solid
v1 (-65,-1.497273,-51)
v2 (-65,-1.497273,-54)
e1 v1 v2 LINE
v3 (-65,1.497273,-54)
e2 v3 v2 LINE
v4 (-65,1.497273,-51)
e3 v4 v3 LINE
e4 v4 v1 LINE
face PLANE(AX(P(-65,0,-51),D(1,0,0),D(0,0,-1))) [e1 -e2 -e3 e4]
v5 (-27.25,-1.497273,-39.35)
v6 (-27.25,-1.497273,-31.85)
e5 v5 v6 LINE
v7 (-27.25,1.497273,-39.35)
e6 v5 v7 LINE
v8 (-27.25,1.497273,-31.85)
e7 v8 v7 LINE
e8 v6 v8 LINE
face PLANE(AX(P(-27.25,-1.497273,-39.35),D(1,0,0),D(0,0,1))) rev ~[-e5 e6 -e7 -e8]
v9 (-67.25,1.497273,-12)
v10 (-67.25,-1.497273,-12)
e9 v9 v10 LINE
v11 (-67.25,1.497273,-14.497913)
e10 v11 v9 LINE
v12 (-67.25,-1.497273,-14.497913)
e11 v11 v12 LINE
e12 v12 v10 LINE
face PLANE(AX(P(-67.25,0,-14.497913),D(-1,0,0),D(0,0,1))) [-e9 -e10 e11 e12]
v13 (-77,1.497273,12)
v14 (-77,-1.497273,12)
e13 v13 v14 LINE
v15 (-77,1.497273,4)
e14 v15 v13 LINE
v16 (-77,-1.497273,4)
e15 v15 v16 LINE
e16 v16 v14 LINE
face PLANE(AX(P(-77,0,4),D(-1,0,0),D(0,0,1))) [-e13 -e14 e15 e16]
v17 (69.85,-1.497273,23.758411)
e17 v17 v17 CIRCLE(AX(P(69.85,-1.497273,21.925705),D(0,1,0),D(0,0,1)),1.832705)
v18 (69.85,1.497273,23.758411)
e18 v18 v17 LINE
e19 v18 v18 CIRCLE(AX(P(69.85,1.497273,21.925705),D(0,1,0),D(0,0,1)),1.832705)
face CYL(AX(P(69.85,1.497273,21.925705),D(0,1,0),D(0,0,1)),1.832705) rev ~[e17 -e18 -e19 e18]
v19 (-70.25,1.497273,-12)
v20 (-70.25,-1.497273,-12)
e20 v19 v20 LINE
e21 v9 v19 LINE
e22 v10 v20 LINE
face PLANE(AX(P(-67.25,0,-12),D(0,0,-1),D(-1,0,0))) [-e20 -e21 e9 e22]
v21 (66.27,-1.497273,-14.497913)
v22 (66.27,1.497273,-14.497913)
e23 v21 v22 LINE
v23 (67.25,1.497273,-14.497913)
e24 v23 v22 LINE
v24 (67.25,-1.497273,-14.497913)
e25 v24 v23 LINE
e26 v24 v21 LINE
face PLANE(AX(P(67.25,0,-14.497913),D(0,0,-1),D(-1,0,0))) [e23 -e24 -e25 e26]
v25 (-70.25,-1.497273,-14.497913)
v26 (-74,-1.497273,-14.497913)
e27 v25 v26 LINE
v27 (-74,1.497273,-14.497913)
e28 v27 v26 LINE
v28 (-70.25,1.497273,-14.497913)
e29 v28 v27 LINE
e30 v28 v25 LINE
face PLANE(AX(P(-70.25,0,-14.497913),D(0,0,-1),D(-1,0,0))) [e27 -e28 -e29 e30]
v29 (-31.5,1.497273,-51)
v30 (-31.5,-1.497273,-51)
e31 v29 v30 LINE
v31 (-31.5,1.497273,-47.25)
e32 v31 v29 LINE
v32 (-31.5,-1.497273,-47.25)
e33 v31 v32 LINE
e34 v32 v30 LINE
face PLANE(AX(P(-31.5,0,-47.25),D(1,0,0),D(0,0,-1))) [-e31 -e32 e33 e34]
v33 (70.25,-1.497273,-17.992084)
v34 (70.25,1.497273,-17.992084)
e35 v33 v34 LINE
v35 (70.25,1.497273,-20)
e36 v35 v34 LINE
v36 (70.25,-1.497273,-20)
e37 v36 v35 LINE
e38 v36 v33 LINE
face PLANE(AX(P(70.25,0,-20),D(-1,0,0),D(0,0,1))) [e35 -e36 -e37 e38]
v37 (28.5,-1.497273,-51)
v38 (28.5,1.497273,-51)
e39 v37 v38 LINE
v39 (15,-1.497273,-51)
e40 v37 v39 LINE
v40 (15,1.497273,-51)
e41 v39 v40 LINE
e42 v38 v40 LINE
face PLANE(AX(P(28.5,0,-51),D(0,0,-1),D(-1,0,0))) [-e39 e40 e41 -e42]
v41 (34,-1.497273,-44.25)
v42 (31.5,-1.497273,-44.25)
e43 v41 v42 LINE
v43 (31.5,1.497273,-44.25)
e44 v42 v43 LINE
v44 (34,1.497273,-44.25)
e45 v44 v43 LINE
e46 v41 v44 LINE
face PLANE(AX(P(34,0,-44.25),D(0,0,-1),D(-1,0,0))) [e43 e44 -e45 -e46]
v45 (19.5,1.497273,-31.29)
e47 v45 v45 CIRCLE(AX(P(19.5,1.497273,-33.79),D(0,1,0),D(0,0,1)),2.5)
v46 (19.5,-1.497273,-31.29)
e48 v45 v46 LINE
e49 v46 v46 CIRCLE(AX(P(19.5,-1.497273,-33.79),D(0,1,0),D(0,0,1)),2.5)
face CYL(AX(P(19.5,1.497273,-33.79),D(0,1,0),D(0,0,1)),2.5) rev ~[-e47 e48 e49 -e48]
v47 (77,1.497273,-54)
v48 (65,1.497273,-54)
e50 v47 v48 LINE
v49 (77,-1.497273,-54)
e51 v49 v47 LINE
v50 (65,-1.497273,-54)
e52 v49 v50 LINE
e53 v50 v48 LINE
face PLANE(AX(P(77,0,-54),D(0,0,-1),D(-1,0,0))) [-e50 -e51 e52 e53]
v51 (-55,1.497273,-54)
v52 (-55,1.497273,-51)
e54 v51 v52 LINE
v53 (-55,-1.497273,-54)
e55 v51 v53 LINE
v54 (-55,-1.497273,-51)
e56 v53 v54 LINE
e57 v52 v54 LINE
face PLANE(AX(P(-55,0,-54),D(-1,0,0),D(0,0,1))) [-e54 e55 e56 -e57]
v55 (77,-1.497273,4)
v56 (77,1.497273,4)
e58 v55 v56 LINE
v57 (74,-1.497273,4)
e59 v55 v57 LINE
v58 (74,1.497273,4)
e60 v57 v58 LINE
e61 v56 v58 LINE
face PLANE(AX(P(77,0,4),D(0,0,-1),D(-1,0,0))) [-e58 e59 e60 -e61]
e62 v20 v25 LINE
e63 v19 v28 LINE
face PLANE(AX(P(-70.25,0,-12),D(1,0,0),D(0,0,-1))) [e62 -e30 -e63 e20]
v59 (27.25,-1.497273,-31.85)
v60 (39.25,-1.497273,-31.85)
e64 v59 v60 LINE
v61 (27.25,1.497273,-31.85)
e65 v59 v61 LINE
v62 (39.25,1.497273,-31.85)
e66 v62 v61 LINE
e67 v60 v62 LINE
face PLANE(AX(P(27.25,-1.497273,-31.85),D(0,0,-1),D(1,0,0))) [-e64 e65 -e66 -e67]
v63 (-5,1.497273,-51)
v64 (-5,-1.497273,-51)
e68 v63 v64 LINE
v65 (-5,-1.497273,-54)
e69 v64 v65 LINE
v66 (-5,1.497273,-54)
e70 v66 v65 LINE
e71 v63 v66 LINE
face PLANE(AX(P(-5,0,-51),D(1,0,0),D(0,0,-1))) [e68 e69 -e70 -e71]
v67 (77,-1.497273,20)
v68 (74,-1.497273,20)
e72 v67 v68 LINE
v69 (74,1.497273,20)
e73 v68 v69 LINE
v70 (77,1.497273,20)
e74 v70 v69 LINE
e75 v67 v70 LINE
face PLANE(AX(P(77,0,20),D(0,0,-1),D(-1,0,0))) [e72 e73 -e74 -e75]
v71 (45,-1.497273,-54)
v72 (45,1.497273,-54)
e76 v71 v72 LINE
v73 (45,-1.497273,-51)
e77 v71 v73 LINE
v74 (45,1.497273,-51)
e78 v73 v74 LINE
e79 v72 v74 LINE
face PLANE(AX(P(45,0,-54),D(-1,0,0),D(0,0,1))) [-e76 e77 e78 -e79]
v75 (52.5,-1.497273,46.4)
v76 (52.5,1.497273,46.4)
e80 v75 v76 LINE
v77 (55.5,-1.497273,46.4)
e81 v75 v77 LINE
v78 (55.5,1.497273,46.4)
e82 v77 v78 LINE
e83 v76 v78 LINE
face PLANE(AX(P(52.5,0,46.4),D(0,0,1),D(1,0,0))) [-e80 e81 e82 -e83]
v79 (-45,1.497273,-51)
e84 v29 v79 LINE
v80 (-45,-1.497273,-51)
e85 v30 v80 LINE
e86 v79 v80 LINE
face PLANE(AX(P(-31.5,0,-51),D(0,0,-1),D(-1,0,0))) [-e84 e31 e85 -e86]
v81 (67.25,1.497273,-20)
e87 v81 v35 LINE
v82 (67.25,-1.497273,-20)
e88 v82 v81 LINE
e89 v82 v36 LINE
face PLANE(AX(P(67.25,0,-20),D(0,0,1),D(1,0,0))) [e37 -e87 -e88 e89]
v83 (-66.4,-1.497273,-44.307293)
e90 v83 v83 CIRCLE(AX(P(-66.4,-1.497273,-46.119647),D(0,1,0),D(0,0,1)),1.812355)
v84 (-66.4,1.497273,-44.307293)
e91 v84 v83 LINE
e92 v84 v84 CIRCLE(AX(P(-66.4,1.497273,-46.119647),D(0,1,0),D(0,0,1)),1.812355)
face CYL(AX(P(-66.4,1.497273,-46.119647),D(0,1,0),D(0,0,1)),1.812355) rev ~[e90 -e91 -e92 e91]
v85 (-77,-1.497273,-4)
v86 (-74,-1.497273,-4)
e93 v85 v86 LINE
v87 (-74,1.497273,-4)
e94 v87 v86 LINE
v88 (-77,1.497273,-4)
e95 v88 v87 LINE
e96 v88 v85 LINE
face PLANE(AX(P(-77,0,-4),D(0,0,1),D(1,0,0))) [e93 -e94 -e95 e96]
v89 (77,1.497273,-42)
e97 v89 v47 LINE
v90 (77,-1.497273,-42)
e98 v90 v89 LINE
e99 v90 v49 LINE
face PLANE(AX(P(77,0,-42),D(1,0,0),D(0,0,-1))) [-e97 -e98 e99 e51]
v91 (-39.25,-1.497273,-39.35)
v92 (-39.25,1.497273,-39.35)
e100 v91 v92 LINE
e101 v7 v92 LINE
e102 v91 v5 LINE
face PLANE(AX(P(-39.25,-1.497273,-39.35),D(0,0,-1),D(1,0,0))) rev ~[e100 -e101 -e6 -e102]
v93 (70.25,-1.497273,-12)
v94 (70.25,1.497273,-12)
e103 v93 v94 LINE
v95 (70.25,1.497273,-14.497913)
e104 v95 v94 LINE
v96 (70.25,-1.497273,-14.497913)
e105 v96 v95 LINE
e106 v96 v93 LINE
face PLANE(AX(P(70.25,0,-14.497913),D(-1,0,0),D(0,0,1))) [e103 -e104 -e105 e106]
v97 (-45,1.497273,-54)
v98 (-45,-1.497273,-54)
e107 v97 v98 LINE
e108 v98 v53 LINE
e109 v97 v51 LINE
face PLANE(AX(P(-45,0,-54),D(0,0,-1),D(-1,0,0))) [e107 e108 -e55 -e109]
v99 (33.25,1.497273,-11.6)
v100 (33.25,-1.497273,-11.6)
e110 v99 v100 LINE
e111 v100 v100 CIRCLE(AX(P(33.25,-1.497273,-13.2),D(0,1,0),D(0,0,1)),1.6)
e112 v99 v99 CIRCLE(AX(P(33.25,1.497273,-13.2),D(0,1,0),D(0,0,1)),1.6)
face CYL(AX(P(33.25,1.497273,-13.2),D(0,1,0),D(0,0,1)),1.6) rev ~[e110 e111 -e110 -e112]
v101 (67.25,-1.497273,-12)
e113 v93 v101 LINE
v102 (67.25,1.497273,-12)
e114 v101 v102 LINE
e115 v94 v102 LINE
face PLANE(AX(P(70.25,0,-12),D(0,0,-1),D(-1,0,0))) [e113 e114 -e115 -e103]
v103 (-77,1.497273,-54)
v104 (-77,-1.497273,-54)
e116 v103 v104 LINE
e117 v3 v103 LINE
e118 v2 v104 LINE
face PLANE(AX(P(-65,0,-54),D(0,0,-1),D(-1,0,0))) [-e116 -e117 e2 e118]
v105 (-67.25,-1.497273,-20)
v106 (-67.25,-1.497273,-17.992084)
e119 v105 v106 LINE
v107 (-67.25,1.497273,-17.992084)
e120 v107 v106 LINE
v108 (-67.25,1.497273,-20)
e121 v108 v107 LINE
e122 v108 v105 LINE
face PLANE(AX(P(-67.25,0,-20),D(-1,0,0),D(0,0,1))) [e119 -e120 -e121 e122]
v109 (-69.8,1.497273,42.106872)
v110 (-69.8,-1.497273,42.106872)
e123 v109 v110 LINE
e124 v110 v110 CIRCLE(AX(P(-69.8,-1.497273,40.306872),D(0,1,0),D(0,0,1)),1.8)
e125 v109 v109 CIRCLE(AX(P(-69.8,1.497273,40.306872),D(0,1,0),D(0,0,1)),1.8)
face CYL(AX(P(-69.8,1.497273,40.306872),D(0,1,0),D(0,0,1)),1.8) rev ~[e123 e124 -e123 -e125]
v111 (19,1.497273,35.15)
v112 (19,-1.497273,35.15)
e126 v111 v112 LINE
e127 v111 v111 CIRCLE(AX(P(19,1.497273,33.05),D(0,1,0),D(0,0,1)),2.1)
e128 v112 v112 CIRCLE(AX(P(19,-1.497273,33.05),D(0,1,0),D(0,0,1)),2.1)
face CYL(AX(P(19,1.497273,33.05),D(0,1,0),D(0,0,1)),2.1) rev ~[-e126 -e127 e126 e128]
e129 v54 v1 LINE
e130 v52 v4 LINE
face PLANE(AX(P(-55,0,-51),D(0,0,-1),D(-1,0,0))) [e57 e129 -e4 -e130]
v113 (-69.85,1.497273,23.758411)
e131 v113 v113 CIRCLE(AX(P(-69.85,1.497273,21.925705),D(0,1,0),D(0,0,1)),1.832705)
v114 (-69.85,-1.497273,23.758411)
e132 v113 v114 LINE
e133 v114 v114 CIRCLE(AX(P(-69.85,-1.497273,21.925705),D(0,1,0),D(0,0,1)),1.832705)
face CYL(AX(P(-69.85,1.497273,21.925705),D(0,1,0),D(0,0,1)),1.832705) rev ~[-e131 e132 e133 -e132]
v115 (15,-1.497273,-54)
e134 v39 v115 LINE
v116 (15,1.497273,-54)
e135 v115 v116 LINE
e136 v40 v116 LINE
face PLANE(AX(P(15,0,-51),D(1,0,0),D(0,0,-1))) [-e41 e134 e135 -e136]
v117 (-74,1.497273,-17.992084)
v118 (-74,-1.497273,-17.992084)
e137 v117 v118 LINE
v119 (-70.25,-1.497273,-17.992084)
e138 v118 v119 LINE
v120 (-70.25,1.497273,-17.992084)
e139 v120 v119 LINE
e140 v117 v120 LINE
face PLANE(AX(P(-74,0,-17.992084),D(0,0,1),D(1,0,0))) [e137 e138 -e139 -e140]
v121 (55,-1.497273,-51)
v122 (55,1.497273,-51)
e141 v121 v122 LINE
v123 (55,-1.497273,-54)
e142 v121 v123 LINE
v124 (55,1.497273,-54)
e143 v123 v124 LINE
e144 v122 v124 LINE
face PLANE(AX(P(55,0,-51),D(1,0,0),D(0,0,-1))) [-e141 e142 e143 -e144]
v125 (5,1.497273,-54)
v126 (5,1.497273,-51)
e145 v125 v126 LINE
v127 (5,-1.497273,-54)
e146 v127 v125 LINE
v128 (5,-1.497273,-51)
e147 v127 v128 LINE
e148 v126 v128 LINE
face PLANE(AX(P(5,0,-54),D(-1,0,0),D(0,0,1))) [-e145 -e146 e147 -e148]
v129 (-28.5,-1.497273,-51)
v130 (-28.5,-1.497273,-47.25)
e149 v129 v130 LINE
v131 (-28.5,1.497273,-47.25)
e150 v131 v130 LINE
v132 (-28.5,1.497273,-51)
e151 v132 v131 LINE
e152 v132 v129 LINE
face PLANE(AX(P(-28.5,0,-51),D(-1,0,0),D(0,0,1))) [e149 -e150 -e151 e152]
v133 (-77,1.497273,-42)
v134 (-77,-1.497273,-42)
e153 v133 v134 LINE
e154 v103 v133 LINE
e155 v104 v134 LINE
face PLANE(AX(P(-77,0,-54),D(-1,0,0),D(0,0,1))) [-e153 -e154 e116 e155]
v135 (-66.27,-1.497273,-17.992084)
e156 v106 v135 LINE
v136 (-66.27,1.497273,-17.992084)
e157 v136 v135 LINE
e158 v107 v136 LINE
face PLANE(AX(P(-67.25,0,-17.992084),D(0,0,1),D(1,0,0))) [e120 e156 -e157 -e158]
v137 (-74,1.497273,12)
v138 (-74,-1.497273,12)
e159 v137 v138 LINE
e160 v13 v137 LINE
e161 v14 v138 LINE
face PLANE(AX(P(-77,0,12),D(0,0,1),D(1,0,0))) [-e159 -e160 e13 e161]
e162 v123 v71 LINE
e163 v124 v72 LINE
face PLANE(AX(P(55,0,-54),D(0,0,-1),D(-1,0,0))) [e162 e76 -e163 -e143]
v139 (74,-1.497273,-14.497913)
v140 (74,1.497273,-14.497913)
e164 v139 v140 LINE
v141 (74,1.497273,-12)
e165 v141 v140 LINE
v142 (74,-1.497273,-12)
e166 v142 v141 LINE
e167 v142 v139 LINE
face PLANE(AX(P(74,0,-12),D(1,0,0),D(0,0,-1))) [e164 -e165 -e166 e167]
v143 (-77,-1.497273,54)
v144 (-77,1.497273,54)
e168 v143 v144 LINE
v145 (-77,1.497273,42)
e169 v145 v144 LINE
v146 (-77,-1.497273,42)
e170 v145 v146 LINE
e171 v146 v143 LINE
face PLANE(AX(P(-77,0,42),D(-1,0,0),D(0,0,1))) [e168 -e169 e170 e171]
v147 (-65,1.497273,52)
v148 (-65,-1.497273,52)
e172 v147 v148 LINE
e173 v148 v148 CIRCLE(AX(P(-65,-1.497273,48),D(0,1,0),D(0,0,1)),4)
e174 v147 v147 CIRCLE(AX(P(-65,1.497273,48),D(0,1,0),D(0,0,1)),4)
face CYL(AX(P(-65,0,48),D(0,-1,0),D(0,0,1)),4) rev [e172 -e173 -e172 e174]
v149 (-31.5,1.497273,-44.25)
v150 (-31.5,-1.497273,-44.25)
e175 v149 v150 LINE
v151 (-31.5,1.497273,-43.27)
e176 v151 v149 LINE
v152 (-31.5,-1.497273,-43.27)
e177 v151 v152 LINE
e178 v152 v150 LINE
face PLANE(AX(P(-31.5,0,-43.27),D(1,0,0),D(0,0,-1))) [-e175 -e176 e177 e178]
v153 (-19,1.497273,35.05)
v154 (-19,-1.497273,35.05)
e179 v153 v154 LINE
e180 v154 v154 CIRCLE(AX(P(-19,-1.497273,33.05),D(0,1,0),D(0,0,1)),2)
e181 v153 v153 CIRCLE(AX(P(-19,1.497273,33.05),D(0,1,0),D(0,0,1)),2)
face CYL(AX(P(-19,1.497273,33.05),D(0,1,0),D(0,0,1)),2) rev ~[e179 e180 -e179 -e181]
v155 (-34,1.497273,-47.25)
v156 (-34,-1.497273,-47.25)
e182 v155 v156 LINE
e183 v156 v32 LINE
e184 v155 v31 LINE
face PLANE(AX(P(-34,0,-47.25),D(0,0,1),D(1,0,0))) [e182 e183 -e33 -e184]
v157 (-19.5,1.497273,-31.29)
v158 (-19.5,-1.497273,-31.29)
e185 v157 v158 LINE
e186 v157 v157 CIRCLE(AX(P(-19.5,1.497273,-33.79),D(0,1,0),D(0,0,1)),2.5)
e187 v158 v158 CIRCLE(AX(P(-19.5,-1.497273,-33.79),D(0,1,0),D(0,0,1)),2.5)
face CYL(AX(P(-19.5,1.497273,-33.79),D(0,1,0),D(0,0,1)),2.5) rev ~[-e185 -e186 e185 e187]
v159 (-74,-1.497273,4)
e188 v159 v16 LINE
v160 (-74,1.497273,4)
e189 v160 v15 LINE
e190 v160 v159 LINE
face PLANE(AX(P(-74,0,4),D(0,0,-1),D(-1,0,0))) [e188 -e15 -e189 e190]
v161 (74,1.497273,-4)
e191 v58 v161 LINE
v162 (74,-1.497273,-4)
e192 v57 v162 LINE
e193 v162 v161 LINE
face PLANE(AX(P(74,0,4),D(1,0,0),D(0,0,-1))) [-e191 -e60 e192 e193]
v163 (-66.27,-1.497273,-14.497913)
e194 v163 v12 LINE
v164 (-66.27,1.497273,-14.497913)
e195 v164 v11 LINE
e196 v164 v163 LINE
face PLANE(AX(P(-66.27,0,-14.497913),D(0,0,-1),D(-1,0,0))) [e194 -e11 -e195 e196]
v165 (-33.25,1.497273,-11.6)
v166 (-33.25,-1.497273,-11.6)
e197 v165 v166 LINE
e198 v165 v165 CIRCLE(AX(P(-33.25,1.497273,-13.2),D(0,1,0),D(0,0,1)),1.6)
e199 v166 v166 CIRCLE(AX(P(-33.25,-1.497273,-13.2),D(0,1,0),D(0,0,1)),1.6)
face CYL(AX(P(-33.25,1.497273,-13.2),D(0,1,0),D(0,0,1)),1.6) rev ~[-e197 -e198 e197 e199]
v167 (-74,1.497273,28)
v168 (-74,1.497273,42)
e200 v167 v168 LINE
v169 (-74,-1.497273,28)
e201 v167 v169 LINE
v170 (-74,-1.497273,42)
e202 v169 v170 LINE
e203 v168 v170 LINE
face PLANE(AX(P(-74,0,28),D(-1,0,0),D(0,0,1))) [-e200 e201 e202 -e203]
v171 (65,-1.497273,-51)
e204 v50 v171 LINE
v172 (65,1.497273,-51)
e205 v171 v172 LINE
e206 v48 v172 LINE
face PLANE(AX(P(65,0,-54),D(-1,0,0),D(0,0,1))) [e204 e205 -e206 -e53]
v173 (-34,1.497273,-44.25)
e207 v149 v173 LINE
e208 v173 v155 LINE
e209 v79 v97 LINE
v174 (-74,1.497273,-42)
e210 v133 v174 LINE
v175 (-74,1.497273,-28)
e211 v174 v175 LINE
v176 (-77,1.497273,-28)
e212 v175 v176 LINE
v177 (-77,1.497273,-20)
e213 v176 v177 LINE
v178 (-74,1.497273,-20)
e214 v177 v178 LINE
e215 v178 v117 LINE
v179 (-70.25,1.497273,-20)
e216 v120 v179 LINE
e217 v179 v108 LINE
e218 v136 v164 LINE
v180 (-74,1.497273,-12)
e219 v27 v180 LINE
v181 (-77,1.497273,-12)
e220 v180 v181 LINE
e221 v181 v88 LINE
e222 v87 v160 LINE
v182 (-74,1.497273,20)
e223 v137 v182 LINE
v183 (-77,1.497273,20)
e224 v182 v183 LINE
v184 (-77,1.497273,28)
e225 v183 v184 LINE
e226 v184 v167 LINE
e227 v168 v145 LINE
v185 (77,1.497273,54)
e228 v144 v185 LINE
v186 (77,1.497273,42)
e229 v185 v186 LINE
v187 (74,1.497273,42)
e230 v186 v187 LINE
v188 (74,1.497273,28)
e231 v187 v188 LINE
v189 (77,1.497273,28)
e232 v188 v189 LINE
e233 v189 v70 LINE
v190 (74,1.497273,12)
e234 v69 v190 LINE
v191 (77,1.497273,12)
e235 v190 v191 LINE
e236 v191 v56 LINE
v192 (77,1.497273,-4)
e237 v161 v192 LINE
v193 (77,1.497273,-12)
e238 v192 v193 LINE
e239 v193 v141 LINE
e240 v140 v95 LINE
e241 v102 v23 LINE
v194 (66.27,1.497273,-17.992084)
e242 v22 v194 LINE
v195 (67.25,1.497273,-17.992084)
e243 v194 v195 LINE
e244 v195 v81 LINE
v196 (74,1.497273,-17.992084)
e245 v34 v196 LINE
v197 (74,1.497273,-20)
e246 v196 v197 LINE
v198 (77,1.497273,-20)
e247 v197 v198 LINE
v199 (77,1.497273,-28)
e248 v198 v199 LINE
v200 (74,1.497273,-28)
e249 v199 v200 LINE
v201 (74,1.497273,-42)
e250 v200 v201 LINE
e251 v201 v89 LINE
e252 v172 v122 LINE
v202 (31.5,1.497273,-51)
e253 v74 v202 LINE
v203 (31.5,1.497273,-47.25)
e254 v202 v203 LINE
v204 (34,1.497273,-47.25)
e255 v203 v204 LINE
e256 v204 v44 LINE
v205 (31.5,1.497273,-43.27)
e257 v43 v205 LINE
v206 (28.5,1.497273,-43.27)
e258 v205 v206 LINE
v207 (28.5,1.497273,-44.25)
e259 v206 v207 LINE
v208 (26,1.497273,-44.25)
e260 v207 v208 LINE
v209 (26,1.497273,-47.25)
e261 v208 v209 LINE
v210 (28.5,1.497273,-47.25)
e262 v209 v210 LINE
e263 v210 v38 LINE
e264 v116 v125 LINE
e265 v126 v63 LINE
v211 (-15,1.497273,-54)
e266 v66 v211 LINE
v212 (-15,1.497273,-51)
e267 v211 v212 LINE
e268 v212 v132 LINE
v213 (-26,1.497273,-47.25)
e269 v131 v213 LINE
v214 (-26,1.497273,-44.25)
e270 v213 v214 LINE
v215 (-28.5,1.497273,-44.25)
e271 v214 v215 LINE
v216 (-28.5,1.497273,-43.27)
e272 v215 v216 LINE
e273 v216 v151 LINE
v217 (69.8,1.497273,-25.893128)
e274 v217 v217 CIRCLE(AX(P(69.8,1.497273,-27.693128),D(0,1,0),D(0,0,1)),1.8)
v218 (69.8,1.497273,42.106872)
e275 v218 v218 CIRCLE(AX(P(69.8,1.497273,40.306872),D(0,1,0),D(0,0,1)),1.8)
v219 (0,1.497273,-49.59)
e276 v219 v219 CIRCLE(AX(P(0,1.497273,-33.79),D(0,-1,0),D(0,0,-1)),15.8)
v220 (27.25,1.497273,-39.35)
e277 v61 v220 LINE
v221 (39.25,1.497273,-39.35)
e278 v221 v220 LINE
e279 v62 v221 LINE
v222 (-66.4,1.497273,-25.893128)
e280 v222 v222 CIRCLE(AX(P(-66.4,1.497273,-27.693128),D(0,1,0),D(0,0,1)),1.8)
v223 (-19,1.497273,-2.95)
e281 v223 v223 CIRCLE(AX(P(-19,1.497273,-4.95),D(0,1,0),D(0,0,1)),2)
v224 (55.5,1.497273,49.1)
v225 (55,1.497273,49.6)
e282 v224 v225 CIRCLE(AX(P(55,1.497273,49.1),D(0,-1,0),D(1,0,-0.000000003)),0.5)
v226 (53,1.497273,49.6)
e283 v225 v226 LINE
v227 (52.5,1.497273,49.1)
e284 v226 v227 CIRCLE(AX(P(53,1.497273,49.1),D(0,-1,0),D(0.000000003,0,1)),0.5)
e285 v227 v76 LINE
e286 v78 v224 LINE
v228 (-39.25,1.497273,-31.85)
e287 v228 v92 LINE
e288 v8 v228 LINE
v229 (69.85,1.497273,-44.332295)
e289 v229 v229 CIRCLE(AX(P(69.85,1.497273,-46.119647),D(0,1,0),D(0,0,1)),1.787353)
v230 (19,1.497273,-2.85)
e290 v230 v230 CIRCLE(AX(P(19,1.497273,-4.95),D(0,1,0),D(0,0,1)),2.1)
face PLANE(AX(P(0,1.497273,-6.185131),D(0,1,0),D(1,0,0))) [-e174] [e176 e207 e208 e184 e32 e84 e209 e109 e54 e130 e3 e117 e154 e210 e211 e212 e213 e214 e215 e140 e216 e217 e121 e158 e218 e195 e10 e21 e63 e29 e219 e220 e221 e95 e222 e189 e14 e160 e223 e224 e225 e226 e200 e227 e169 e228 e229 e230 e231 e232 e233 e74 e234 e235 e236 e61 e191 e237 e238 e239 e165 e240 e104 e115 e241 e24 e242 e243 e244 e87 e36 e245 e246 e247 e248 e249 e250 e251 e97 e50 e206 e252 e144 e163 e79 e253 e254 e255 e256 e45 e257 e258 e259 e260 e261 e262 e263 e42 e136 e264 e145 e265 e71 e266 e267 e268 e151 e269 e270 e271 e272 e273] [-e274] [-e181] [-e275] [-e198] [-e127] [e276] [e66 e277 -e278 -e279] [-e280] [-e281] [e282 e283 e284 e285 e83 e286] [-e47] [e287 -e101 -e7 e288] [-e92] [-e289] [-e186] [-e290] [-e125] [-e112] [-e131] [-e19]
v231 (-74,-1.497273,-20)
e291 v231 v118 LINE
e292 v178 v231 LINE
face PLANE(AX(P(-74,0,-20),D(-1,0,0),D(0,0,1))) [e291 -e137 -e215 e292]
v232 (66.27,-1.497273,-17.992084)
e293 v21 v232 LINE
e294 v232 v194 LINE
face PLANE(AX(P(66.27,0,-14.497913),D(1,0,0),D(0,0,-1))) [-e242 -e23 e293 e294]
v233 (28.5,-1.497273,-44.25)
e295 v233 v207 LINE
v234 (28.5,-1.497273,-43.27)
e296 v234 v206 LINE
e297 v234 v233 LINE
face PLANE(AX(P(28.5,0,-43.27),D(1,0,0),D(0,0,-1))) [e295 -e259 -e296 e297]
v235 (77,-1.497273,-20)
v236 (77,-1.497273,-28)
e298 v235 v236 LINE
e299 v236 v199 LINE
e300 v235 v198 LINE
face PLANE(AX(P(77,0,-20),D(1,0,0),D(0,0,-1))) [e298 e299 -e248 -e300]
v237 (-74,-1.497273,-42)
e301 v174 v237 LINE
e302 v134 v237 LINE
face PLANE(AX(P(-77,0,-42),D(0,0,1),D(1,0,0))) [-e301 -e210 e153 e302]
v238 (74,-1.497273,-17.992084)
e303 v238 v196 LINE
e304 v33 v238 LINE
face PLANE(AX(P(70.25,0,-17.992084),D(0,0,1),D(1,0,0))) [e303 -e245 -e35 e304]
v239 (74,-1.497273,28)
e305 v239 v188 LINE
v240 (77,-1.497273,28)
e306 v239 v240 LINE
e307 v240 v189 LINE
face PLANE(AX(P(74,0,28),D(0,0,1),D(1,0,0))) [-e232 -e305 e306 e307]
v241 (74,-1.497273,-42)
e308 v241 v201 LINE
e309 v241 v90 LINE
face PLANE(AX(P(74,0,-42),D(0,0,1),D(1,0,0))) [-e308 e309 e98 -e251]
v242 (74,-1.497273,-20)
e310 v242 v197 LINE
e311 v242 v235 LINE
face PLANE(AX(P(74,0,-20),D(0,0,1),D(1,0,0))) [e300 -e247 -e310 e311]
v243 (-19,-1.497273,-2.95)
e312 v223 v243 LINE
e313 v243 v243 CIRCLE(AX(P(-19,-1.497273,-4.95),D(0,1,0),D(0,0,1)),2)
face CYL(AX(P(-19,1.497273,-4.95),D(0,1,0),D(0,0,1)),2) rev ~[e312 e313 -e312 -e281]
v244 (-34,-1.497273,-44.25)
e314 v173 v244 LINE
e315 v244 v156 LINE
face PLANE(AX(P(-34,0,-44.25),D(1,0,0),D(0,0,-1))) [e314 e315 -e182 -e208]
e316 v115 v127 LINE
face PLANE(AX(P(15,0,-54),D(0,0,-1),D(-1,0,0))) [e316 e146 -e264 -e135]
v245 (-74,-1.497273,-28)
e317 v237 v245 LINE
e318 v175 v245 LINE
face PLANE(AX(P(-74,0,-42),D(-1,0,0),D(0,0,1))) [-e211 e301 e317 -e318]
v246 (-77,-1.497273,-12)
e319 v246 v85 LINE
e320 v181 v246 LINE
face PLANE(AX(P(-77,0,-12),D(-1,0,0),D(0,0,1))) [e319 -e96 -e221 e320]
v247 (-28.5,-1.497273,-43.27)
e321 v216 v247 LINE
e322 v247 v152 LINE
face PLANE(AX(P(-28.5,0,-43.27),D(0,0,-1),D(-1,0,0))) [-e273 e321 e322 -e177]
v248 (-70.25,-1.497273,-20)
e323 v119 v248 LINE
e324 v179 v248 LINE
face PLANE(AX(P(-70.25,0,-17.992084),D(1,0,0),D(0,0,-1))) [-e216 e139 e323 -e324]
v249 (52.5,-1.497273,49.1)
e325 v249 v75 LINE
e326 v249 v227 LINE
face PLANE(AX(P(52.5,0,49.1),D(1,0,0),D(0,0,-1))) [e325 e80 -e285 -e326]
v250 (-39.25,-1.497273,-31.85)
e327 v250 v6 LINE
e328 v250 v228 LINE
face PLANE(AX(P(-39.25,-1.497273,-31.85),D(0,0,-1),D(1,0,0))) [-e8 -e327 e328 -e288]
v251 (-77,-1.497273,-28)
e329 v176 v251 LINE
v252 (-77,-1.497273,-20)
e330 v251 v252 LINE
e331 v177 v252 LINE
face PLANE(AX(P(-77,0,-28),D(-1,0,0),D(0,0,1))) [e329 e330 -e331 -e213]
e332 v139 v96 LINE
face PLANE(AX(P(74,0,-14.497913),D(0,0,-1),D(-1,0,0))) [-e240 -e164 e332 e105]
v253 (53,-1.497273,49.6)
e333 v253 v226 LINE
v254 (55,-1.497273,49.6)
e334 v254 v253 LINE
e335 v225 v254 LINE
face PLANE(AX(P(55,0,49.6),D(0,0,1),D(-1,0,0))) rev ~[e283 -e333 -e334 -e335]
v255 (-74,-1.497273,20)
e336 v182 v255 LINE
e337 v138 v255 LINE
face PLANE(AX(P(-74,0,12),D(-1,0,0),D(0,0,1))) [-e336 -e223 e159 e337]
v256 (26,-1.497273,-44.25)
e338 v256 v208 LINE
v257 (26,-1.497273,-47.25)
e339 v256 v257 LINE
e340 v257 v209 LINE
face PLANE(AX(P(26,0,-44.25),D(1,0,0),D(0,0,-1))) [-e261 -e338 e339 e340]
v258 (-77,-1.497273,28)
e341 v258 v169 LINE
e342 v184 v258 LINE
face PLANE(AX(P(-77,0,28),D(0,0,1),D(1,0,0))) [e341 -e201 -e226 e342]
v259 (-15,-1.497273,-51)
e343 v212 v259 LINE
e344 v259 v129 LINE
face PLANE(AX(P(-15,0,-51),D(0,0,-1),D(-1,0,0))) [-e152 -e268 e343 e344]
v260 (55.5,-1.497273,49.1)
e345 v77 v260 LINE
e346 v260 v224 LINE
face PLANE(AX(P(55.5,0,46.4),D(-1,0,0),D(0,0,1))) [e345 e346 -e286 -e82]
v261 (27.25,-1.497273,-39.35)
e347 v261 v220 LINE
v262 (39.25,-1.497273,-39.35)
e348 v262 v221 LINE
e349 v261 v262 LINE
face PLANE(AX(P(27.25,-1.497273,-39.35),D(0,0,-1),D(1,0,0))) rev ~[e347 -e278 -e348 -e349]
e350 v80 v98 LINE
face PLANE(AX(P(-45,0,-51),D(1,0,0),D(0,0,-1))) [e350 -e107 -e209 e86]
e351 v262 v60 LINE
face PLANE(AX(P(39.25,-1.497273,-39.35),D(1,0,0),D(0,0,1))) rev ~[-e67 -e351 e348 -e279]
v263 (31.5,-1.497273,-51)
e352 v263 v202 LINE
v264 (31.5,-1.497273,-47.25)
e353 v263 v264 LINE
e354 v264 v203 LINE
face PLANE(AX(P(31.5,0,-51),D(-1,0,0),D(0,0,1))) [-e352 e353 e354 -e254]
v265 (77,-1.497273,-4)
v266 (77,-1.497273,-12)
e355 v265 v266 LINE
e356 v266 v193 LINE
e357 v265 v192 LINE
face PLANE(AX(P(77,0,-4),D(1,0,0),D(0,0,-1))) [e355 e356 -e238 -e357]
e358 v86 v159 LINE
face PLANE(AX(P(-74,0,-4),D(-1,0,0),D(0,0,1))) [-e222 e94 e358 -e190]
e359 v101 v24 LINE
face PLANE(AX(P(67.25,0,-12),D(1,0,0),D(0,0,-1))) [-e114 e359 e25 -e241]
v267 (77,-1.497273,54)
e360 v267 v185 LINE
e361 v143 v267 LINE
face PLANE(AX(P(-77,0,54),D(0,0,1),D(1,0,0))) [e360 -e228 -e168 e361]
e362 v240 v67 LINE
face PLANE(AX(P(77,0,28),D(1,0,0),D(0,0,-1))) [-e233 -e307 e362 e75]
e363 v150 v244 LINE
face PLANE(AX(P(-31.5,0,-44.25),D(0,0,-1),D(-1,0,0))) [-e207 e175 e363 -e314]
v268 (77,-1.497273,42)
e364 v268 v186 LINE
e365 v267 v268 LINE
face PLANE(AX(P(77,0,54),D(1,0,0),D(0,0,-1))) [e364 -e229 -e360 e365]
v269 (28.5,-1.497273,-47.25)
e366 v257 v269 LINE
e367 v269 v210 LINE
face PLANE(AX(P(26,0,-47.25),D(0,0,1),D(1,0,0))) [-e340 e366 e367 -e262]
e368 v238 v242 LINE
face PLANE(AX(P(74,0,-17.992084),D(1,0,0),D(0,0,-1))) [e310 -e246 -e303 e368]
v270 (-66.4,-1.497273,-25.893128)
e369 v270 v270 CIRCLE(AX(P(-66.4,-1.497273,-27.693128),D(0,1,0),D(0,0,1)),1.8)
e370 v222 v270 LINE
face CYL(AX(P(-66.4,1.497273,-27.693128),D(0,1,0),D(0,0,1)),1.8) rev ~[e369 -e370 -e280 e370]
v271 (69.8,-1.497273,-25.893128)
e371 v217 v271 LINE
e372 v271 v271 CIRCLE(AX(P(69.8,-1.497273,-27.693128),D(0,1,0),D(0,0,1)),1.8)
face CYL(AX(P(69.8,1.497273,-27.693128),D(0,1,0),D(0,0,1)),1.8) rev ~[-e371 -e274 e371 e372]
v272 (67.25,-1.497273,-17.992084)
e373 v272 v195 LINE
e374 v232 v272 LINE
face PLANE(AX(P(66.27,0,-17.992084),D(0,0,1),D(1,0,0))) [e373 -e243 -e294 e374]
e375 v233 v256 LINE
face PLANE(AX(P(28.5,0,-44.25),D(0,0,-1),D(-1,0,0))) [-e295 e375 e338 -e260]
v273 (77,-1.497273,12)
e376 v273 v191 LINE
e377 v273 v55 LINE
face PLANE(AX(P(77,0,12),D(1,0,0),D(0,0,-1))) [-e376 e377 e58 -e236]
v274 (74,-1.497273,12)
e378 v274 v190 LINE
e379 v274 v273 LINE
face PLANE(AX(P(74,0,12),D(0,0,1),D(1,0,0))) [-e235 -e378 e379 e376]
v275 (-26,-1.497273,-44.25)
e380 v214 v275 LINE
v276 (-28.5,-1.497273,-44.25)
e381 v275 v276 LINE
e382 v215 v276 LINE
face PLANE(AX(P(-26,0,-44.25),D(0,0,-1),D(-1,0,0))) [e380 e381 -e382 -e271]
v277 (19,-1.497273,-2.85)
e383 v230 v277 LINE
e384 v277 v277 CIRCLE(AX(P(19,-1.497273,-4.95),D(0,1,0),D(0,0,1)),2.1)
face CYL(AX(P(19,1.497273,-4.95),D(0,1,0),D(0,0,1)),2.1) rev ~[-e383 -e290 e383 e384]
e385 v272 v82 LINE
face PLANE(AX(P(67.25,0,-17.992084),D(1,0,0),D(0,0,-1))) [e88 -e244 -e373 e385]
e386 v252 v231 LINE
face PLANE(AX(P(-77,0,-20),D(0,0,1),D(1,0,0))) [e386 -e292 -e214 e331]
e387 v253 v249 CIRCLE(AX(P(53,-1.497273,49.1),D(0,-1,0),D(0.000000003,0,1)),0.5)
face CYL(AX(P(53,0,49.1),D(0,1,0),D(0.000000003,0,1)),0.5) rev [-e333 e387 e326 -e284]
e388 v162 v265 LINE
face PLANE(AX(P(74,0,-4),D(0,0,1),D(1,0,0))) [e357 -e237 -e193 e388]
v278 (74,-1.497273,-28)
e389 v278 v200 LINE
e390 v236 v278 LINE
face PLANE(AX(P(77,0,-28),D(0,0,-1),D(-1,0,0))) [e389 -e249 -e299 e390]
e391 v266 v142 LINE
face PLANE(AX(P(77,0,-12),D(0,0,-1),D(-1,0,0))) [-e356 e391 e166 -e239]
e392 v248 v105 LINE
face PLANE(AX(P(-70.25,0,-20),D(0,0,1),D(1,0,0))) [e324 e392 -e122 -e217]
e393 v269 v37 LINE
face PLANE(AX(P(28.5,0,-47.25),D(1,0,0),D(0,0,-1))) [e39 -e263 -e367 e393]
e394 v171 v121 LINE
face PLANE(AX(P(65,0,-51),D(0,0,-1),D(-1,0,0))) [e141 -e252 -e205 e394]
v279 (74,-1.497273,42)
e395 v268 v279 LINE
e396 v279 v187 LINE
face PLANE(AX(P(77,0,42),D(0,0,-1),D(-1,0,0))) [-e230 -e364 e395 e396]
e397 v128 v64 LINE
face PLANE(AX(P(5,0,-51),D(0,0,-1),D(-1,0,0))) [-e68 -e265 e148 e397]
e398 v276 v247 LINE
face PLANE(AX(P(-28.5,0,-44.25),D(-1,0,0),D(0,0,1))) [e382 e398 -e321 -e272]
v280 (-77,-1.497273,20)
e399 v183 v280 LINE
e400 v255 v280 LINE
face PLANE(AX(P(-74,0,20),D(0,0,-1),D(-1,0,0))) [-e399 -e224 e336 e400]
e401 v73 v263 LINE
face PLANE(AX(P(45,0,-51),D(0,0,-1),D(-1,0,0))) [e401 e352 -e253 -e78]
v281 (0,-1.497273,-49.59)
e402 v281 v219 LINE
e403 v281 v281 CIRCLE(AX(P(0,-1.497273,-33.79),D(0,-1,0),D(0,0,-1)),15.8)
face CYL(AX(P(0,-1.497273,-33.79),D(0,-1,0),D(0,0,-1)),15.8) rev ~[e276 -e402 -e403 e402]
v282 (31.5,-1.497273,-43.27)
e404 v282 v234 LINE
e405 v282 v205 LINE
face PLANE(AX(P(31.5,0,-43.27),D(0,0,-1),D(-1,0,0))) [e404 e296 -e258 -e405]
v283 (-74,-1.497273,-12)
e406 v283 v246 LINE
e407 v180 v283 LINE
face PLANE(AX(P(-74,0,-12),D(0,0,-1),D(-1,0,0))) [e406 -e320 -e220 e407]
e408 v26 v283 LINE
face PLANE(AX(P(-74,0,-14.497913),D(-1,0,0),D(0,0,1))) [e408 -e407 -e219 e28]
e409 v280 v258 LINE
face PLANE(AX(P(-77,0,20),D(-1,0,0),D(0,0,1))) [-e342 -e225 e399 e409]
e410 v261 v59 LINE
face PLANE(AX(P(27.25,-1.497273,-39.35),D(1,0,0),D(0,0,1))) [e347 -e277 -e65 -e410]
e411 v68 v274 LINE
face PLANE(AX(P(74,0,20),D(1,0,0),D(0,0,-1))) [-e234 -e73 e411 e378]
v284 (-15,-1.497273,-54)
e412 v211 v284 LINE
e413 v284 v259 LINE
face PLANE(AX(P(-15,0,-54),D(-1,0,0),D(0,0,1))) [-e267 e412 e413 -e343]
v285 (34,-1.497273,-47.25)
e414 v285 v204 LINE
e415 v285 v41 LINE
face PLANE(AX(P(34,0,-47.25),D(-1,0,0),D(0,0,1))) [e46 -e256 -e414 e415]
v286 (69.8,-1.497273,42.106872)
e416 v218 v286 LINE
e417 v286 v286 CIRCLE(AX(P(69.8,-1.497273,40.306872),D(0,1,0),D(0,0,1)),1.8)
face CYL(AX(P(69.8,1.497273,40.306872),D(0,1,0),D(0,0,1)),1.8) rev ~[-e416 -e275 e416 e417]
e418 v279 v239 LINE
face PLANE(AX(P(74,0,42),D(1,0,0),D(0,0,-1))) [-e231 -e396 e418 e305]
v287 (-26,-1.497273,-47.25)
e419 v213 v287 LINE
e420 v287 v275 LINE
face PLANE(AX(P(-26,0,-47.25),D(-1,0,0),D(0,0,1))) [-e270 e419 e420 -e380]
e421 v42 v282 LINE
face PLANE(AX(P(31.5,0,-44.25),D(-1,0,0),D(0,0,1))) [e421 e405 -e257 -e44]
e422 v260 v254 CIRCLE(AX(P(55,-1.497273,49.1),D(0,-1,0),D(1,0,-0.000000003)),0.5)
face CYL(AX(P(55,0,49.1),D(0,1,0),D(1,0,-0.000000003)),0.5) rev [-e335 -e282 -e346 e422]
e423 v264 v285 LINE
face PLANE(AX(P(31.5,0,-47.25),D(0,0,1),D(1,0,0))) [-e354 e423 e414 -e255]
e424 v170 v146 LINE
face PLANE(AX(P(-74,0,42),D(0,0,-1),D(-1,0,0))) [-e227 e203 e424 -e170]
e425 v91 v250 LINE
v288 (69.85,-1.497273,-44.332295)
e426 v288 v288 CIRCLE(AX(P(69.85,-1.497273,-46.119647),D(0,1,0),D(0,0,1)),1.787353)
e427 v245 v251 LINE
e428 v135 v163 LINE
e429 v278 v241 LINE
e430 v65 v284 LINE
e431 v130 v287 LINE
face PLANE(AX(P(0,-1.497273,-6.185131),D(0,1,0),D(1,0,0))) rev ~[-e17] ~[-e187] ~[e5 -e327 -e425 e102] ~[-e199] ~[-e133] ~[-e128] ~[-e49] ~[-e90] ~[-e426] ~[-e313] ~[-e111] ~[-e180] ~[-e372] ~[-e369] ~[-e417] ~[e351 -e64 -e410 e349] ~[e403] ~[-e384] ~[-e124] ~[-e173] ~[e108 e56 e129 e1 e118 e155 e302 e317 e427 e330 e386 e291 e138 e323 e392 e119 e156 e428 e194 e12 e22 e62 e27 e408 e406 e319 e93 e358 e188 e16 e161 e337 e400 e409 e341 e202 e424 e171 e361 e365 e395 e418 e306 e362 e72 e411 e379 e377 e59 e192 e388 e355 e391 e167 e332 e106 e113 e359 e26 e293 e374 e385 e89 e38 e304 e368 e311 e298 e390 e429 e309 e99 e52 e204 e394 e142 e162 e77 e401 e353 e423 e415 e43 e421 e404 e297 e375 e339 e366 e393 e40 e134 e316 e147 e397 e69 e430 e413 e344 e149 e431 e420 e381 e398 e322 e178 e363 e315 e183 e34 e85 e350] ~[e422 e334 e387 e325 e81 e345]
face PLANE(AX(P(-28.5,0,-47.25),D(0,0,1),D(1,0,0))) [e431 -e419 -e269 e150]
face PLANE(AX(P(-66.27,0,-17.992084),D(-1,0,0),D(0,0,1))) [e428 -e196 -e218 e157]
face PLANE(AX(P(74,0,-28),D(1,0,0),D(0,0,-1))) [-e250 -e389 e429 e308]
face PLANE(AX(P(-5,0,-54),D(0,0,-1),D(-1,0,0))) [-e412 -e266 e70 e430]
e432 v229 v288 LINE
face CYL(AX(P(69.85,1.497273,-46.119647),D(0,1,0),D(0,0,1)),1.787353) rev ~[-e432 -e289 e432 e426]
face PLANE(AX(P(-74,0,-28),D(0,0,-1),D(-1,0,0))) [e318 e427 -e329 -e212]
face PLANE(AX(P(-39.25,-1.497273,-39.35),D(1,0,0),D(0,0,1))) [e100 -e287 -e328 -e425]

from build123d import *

# Parameters (mm, degrees)
CROQUIS1_R              = 4
SALIENTE_EXTRUIR1_DEPTH = 1.497272789
CROQUIS3_R              = 2.5
CORTAR_EXTRUIR2_DEPTH   = 3
CROQUIS4_R              = 15.8
CORTAR_EXTRUIR3_DEPTH   = 10
CROQUIS5_W              = 12
CROQUIS5_H              = 7.5
CORTAR_EXTRUIR4_DEPTH   = 10
CROQUIS6_R              = 1.600000002
CORTAR_EXTRUIR5_DEPTH   = 10
CROQUIS9_R              = 1.787352587
CROQUIS9_R_2            = 1.8
CROQUIS9_R_3            = 1.832705365
CROQUIS9_R_4            = 1.812354621
CORTAR_EXTRUIR7_DEPTH   = 10
CROQUIS10_R             = 2
CROQUIS10_R_2           = 2.1
CORTAR_EXTRUIR8_DEPTH   = 10


with BuildPart() as part:
    # Croquis1 → Saliente-Extruir1 (new, symmetric)
    with BuildSketch(Plane(origin=(0, 0, 0), x_dir=(1, 0, 0), z_dir=(0, 1, 0))):
        Polygon((-77, -42), (-77, -54), (77, -54), (77, -42), (74, -42), (74, -28), (77, -28), (77, -20), (74, -20), (74, -12), (77, -12), (77, -4), (74, -4), (74, -1.5), (74, 1.5), (74, 4), (77, 4), (77, 12), (74, 12), (74, 14.497912952), (70.25, 14.497912952), (70.25, 12), (67.25, 12), (67.25, 14.497912952), (66.27, 14.497912952), (66.27, 17.992083938), (67.25, 17.992083938), (67.25, 20), (70.25, 20), (70.25, 17.992083938), (74, 17.992083938), (74, 20), (77, 20), (77, 28), (74, 28), (74, 42), (77, 42), (77, 54), (65, 54), (65, 51), (55, 51), (55, 54), (45, 54), (45, 51), (31.5, 51), (31.5, 47.25), (34, 47.25), (34, 44.25), (31.5, 44.25), (31.5, 43.27), (28.5, 43.27), (28.5, 44.25), (26, 44.25), (26, 47.25), (28.5, 47.25), (28.5, 51), (15, 51), (15, 54), (5, 54), (5, 51), (-5, 51), (-5, 54), (-15, 54), (-15, 51), (-28.5, 51), (-28.5, 47.25), (-26, 47.25), (-26, 44.25), (-28.5, 44.25), (-28.5, 43.27), (-31.5, 43.27), (-31.5, 44.25), (-34, 44.25), (-34, 47.25), (-31.5, 47.25), (-31.5, 51), (-45, 51), (-45, 54), (-55, 54), (-55, 51), (-65, 51), (-65, 54), (-77, 54), (-77, 42), (-74, 42), (-74, 28), (-77, 28), (-77, 20), (-74, 20), (-74, 17.992083938), (-70.25, 17.992083938), (-70.25, 20), (-67.25, 20), (-67.25, 17.992083938), (-66.27, 17.992083938), (-66.27, 14.497912952), (-67.25, 14.497912952), (-67.25, 12), (-70.25, 12), (-70.25, 14.497912952), (-74, 14.497912952), (-74, 12), (-77, 12), (-77, 4), (-74, 4), (-74, 1.5), (-74, -1.5), (-74, -4), (-77, -4), (-77, -12), (-74, -12), (-74, -20), (-77, -20), (-77, -28), (-74, -28), (-74, -42), align=None)
        with Locations(Location((-65, -48, 0), (0, 0, 270))):
            Circle(CROQUIS1_R, mode=Mode.SUBTRACT)
        with BuildLine():
            Line((55, -49.6), (53, -49.6))
            ThreePointArc((53, -49.6), (52.646446609, -49.453553391), (52.5, -49.1))
            Line((52.5, -49.1), (52.5, -46.4))
            Line((52.5, -46.4), (55.5, -46.4))
            Line((55.5, -46.4), (55.5, -49.1))
            ThreePointArc((55.5, -49.1), (55.353553391, -49.453553391), (55, -49.6))
        make_face(mode=Mode.SUBTRACT)
    extrude(amount=SALIENTE_EXTRUIR1_DEPTH, both=True)

    # Croquis3 → Cortar-Extruir2 (cut)
    with BuildSketch(Plane(origin=(0, 1.497272789, 0), x_dir=(1, 0, 0), z_dir=(0, 1, 0))):
        with Locations(Location((-19.5, 33.79, 0), (0, 0, 270))):
            Circle(CROQUIS3_R)
        with Locations(Location((19.5, 33.79, 0), (0, 0, 270))):
            Circle(CROQUIS3_R)
    extrude(amount=-CORTAR_EXTRUIR2_DEPTH, mode=Mode.SUBTRACT)

    # Croquis4 → Cortar-Extruir3 (cut)
    with BuildSketch(Plane.XZ.offset(1.497272789)):
        with Locations(Location((0, -33.79, 0), (0, 0, 270))):
            Circle(CROQUIS4_R)
    extrude(amount=-CORTAR_EXTRUIR3_DEPTH, mode=Mode.SUBTRACT)

    # Croquis5 → Cortar-Extruir4 (cut)
    with BuildSketch(Plane.XZ.offset(1.497272789)):
        with Locations((-33.25, -35.6)):
            Rectangle(CROQUIS5_W, CROQUIS5_H)
        with Locations((33.25, -35.6)):
            Rectangle(CROQUIS5_W, CROQUIS5_H)
    extrude(amount=-CORTAR_EXTRUIR4_DEPTH, mode=Mode.SUBTRACT)

    # Croquis6 → Cortar-Extruir5 (cut)
    with BuildSketch(Plane(origin=(0, 1.497272789, 0), x_dir=(1, 0, 0), z_dir=(0, 1, 0))):
        with Locations(Location((33.25, 13.2, 0), (0, 0, 270))):
            Circle(CROQUIS6_R)
        with Locations(Location((-33.25, 13.2, 0), (0, 0, 270))):
            Circle(CROQUIS6_R)
    extrude(amount=-CORTAR_EXTRUIR5_DEPTH, mode=Mode.SUBTRACT)

    # Croquis9 → Cortar-Extruir7 (cut)
    with BuildSketch(Plane(origin=(0, 1.497272789, 0), x_dir=(1, 0, 0), z_dir=(0, 1, 0))):
        with Locations(Location((69.85, 46.119647413, 0), (0, 0, 270))):
            Circle(CROQUIS9_R)
        with Locations(Location((69.8, 27.693127607, 0), (0, 0, 270))):
            Circle(CROQUIS9_R_2)
        with Locations(Location((69.85, -21.925705365, 0), (0, 0, 270))):
            Circle(CROQUIS9_R_3)
        with Locations(Location((69.8, -40.306872393, 0), (0, 0, 270))):
            Circle(CROQUIS9_R_2)
        with Locations(Location((-69.8, -40.306872393, 0), (0, 0, 270))):
            Circle(CROQUIS9_R_2)
        with Locations(Location((-69.85, -21.925705365, 0), (0, 0, 270))):
            Circle(CROQUIS9_R_3)
        with Locations(Location((-66.4, 27.693127607, 0), (0, 0, 270))):
            Circle(CROQUIS9_R_2)
        with Locations(Location((-66.4, 46.119647413, 0), (0, 0, 270))):
            Circle(CROQUIS9_R_4)
    extrude(amount=-CORTAR_EXTRUIR7_DEPTH, mode=Mode.SUBTRACT)

    # Croquis10 → Cortar-Extruir8 (cut)
    with BuildSketch(Plane(origin=(0, 1.497272789, 0), x_dir=(1, 0, 0), z_dir=(0, 1, 0))):
        with Locations(Location((-19, 4.95, 0), (0, 0, 270))):
            Circle(CROQUIS10_R)
        with Locations(Location((19, 4.95, 0), (0, 0, 270))):
            Circle(CROQUIS10_R_2)
        with Locations(Location((19, -33.05, 0), (0, 0, 270))):
            Circle(CROQUIS10_R_2)
        with Locations(Location((-19, -33.05, 0), (0, 0, 270))):
            Circle(CROQUIS10_R)
    extrude(amount=-CORTAR_EXTRUIR8_DEPTH, mode=Mode.SUBTRACT)


solid = part.part
